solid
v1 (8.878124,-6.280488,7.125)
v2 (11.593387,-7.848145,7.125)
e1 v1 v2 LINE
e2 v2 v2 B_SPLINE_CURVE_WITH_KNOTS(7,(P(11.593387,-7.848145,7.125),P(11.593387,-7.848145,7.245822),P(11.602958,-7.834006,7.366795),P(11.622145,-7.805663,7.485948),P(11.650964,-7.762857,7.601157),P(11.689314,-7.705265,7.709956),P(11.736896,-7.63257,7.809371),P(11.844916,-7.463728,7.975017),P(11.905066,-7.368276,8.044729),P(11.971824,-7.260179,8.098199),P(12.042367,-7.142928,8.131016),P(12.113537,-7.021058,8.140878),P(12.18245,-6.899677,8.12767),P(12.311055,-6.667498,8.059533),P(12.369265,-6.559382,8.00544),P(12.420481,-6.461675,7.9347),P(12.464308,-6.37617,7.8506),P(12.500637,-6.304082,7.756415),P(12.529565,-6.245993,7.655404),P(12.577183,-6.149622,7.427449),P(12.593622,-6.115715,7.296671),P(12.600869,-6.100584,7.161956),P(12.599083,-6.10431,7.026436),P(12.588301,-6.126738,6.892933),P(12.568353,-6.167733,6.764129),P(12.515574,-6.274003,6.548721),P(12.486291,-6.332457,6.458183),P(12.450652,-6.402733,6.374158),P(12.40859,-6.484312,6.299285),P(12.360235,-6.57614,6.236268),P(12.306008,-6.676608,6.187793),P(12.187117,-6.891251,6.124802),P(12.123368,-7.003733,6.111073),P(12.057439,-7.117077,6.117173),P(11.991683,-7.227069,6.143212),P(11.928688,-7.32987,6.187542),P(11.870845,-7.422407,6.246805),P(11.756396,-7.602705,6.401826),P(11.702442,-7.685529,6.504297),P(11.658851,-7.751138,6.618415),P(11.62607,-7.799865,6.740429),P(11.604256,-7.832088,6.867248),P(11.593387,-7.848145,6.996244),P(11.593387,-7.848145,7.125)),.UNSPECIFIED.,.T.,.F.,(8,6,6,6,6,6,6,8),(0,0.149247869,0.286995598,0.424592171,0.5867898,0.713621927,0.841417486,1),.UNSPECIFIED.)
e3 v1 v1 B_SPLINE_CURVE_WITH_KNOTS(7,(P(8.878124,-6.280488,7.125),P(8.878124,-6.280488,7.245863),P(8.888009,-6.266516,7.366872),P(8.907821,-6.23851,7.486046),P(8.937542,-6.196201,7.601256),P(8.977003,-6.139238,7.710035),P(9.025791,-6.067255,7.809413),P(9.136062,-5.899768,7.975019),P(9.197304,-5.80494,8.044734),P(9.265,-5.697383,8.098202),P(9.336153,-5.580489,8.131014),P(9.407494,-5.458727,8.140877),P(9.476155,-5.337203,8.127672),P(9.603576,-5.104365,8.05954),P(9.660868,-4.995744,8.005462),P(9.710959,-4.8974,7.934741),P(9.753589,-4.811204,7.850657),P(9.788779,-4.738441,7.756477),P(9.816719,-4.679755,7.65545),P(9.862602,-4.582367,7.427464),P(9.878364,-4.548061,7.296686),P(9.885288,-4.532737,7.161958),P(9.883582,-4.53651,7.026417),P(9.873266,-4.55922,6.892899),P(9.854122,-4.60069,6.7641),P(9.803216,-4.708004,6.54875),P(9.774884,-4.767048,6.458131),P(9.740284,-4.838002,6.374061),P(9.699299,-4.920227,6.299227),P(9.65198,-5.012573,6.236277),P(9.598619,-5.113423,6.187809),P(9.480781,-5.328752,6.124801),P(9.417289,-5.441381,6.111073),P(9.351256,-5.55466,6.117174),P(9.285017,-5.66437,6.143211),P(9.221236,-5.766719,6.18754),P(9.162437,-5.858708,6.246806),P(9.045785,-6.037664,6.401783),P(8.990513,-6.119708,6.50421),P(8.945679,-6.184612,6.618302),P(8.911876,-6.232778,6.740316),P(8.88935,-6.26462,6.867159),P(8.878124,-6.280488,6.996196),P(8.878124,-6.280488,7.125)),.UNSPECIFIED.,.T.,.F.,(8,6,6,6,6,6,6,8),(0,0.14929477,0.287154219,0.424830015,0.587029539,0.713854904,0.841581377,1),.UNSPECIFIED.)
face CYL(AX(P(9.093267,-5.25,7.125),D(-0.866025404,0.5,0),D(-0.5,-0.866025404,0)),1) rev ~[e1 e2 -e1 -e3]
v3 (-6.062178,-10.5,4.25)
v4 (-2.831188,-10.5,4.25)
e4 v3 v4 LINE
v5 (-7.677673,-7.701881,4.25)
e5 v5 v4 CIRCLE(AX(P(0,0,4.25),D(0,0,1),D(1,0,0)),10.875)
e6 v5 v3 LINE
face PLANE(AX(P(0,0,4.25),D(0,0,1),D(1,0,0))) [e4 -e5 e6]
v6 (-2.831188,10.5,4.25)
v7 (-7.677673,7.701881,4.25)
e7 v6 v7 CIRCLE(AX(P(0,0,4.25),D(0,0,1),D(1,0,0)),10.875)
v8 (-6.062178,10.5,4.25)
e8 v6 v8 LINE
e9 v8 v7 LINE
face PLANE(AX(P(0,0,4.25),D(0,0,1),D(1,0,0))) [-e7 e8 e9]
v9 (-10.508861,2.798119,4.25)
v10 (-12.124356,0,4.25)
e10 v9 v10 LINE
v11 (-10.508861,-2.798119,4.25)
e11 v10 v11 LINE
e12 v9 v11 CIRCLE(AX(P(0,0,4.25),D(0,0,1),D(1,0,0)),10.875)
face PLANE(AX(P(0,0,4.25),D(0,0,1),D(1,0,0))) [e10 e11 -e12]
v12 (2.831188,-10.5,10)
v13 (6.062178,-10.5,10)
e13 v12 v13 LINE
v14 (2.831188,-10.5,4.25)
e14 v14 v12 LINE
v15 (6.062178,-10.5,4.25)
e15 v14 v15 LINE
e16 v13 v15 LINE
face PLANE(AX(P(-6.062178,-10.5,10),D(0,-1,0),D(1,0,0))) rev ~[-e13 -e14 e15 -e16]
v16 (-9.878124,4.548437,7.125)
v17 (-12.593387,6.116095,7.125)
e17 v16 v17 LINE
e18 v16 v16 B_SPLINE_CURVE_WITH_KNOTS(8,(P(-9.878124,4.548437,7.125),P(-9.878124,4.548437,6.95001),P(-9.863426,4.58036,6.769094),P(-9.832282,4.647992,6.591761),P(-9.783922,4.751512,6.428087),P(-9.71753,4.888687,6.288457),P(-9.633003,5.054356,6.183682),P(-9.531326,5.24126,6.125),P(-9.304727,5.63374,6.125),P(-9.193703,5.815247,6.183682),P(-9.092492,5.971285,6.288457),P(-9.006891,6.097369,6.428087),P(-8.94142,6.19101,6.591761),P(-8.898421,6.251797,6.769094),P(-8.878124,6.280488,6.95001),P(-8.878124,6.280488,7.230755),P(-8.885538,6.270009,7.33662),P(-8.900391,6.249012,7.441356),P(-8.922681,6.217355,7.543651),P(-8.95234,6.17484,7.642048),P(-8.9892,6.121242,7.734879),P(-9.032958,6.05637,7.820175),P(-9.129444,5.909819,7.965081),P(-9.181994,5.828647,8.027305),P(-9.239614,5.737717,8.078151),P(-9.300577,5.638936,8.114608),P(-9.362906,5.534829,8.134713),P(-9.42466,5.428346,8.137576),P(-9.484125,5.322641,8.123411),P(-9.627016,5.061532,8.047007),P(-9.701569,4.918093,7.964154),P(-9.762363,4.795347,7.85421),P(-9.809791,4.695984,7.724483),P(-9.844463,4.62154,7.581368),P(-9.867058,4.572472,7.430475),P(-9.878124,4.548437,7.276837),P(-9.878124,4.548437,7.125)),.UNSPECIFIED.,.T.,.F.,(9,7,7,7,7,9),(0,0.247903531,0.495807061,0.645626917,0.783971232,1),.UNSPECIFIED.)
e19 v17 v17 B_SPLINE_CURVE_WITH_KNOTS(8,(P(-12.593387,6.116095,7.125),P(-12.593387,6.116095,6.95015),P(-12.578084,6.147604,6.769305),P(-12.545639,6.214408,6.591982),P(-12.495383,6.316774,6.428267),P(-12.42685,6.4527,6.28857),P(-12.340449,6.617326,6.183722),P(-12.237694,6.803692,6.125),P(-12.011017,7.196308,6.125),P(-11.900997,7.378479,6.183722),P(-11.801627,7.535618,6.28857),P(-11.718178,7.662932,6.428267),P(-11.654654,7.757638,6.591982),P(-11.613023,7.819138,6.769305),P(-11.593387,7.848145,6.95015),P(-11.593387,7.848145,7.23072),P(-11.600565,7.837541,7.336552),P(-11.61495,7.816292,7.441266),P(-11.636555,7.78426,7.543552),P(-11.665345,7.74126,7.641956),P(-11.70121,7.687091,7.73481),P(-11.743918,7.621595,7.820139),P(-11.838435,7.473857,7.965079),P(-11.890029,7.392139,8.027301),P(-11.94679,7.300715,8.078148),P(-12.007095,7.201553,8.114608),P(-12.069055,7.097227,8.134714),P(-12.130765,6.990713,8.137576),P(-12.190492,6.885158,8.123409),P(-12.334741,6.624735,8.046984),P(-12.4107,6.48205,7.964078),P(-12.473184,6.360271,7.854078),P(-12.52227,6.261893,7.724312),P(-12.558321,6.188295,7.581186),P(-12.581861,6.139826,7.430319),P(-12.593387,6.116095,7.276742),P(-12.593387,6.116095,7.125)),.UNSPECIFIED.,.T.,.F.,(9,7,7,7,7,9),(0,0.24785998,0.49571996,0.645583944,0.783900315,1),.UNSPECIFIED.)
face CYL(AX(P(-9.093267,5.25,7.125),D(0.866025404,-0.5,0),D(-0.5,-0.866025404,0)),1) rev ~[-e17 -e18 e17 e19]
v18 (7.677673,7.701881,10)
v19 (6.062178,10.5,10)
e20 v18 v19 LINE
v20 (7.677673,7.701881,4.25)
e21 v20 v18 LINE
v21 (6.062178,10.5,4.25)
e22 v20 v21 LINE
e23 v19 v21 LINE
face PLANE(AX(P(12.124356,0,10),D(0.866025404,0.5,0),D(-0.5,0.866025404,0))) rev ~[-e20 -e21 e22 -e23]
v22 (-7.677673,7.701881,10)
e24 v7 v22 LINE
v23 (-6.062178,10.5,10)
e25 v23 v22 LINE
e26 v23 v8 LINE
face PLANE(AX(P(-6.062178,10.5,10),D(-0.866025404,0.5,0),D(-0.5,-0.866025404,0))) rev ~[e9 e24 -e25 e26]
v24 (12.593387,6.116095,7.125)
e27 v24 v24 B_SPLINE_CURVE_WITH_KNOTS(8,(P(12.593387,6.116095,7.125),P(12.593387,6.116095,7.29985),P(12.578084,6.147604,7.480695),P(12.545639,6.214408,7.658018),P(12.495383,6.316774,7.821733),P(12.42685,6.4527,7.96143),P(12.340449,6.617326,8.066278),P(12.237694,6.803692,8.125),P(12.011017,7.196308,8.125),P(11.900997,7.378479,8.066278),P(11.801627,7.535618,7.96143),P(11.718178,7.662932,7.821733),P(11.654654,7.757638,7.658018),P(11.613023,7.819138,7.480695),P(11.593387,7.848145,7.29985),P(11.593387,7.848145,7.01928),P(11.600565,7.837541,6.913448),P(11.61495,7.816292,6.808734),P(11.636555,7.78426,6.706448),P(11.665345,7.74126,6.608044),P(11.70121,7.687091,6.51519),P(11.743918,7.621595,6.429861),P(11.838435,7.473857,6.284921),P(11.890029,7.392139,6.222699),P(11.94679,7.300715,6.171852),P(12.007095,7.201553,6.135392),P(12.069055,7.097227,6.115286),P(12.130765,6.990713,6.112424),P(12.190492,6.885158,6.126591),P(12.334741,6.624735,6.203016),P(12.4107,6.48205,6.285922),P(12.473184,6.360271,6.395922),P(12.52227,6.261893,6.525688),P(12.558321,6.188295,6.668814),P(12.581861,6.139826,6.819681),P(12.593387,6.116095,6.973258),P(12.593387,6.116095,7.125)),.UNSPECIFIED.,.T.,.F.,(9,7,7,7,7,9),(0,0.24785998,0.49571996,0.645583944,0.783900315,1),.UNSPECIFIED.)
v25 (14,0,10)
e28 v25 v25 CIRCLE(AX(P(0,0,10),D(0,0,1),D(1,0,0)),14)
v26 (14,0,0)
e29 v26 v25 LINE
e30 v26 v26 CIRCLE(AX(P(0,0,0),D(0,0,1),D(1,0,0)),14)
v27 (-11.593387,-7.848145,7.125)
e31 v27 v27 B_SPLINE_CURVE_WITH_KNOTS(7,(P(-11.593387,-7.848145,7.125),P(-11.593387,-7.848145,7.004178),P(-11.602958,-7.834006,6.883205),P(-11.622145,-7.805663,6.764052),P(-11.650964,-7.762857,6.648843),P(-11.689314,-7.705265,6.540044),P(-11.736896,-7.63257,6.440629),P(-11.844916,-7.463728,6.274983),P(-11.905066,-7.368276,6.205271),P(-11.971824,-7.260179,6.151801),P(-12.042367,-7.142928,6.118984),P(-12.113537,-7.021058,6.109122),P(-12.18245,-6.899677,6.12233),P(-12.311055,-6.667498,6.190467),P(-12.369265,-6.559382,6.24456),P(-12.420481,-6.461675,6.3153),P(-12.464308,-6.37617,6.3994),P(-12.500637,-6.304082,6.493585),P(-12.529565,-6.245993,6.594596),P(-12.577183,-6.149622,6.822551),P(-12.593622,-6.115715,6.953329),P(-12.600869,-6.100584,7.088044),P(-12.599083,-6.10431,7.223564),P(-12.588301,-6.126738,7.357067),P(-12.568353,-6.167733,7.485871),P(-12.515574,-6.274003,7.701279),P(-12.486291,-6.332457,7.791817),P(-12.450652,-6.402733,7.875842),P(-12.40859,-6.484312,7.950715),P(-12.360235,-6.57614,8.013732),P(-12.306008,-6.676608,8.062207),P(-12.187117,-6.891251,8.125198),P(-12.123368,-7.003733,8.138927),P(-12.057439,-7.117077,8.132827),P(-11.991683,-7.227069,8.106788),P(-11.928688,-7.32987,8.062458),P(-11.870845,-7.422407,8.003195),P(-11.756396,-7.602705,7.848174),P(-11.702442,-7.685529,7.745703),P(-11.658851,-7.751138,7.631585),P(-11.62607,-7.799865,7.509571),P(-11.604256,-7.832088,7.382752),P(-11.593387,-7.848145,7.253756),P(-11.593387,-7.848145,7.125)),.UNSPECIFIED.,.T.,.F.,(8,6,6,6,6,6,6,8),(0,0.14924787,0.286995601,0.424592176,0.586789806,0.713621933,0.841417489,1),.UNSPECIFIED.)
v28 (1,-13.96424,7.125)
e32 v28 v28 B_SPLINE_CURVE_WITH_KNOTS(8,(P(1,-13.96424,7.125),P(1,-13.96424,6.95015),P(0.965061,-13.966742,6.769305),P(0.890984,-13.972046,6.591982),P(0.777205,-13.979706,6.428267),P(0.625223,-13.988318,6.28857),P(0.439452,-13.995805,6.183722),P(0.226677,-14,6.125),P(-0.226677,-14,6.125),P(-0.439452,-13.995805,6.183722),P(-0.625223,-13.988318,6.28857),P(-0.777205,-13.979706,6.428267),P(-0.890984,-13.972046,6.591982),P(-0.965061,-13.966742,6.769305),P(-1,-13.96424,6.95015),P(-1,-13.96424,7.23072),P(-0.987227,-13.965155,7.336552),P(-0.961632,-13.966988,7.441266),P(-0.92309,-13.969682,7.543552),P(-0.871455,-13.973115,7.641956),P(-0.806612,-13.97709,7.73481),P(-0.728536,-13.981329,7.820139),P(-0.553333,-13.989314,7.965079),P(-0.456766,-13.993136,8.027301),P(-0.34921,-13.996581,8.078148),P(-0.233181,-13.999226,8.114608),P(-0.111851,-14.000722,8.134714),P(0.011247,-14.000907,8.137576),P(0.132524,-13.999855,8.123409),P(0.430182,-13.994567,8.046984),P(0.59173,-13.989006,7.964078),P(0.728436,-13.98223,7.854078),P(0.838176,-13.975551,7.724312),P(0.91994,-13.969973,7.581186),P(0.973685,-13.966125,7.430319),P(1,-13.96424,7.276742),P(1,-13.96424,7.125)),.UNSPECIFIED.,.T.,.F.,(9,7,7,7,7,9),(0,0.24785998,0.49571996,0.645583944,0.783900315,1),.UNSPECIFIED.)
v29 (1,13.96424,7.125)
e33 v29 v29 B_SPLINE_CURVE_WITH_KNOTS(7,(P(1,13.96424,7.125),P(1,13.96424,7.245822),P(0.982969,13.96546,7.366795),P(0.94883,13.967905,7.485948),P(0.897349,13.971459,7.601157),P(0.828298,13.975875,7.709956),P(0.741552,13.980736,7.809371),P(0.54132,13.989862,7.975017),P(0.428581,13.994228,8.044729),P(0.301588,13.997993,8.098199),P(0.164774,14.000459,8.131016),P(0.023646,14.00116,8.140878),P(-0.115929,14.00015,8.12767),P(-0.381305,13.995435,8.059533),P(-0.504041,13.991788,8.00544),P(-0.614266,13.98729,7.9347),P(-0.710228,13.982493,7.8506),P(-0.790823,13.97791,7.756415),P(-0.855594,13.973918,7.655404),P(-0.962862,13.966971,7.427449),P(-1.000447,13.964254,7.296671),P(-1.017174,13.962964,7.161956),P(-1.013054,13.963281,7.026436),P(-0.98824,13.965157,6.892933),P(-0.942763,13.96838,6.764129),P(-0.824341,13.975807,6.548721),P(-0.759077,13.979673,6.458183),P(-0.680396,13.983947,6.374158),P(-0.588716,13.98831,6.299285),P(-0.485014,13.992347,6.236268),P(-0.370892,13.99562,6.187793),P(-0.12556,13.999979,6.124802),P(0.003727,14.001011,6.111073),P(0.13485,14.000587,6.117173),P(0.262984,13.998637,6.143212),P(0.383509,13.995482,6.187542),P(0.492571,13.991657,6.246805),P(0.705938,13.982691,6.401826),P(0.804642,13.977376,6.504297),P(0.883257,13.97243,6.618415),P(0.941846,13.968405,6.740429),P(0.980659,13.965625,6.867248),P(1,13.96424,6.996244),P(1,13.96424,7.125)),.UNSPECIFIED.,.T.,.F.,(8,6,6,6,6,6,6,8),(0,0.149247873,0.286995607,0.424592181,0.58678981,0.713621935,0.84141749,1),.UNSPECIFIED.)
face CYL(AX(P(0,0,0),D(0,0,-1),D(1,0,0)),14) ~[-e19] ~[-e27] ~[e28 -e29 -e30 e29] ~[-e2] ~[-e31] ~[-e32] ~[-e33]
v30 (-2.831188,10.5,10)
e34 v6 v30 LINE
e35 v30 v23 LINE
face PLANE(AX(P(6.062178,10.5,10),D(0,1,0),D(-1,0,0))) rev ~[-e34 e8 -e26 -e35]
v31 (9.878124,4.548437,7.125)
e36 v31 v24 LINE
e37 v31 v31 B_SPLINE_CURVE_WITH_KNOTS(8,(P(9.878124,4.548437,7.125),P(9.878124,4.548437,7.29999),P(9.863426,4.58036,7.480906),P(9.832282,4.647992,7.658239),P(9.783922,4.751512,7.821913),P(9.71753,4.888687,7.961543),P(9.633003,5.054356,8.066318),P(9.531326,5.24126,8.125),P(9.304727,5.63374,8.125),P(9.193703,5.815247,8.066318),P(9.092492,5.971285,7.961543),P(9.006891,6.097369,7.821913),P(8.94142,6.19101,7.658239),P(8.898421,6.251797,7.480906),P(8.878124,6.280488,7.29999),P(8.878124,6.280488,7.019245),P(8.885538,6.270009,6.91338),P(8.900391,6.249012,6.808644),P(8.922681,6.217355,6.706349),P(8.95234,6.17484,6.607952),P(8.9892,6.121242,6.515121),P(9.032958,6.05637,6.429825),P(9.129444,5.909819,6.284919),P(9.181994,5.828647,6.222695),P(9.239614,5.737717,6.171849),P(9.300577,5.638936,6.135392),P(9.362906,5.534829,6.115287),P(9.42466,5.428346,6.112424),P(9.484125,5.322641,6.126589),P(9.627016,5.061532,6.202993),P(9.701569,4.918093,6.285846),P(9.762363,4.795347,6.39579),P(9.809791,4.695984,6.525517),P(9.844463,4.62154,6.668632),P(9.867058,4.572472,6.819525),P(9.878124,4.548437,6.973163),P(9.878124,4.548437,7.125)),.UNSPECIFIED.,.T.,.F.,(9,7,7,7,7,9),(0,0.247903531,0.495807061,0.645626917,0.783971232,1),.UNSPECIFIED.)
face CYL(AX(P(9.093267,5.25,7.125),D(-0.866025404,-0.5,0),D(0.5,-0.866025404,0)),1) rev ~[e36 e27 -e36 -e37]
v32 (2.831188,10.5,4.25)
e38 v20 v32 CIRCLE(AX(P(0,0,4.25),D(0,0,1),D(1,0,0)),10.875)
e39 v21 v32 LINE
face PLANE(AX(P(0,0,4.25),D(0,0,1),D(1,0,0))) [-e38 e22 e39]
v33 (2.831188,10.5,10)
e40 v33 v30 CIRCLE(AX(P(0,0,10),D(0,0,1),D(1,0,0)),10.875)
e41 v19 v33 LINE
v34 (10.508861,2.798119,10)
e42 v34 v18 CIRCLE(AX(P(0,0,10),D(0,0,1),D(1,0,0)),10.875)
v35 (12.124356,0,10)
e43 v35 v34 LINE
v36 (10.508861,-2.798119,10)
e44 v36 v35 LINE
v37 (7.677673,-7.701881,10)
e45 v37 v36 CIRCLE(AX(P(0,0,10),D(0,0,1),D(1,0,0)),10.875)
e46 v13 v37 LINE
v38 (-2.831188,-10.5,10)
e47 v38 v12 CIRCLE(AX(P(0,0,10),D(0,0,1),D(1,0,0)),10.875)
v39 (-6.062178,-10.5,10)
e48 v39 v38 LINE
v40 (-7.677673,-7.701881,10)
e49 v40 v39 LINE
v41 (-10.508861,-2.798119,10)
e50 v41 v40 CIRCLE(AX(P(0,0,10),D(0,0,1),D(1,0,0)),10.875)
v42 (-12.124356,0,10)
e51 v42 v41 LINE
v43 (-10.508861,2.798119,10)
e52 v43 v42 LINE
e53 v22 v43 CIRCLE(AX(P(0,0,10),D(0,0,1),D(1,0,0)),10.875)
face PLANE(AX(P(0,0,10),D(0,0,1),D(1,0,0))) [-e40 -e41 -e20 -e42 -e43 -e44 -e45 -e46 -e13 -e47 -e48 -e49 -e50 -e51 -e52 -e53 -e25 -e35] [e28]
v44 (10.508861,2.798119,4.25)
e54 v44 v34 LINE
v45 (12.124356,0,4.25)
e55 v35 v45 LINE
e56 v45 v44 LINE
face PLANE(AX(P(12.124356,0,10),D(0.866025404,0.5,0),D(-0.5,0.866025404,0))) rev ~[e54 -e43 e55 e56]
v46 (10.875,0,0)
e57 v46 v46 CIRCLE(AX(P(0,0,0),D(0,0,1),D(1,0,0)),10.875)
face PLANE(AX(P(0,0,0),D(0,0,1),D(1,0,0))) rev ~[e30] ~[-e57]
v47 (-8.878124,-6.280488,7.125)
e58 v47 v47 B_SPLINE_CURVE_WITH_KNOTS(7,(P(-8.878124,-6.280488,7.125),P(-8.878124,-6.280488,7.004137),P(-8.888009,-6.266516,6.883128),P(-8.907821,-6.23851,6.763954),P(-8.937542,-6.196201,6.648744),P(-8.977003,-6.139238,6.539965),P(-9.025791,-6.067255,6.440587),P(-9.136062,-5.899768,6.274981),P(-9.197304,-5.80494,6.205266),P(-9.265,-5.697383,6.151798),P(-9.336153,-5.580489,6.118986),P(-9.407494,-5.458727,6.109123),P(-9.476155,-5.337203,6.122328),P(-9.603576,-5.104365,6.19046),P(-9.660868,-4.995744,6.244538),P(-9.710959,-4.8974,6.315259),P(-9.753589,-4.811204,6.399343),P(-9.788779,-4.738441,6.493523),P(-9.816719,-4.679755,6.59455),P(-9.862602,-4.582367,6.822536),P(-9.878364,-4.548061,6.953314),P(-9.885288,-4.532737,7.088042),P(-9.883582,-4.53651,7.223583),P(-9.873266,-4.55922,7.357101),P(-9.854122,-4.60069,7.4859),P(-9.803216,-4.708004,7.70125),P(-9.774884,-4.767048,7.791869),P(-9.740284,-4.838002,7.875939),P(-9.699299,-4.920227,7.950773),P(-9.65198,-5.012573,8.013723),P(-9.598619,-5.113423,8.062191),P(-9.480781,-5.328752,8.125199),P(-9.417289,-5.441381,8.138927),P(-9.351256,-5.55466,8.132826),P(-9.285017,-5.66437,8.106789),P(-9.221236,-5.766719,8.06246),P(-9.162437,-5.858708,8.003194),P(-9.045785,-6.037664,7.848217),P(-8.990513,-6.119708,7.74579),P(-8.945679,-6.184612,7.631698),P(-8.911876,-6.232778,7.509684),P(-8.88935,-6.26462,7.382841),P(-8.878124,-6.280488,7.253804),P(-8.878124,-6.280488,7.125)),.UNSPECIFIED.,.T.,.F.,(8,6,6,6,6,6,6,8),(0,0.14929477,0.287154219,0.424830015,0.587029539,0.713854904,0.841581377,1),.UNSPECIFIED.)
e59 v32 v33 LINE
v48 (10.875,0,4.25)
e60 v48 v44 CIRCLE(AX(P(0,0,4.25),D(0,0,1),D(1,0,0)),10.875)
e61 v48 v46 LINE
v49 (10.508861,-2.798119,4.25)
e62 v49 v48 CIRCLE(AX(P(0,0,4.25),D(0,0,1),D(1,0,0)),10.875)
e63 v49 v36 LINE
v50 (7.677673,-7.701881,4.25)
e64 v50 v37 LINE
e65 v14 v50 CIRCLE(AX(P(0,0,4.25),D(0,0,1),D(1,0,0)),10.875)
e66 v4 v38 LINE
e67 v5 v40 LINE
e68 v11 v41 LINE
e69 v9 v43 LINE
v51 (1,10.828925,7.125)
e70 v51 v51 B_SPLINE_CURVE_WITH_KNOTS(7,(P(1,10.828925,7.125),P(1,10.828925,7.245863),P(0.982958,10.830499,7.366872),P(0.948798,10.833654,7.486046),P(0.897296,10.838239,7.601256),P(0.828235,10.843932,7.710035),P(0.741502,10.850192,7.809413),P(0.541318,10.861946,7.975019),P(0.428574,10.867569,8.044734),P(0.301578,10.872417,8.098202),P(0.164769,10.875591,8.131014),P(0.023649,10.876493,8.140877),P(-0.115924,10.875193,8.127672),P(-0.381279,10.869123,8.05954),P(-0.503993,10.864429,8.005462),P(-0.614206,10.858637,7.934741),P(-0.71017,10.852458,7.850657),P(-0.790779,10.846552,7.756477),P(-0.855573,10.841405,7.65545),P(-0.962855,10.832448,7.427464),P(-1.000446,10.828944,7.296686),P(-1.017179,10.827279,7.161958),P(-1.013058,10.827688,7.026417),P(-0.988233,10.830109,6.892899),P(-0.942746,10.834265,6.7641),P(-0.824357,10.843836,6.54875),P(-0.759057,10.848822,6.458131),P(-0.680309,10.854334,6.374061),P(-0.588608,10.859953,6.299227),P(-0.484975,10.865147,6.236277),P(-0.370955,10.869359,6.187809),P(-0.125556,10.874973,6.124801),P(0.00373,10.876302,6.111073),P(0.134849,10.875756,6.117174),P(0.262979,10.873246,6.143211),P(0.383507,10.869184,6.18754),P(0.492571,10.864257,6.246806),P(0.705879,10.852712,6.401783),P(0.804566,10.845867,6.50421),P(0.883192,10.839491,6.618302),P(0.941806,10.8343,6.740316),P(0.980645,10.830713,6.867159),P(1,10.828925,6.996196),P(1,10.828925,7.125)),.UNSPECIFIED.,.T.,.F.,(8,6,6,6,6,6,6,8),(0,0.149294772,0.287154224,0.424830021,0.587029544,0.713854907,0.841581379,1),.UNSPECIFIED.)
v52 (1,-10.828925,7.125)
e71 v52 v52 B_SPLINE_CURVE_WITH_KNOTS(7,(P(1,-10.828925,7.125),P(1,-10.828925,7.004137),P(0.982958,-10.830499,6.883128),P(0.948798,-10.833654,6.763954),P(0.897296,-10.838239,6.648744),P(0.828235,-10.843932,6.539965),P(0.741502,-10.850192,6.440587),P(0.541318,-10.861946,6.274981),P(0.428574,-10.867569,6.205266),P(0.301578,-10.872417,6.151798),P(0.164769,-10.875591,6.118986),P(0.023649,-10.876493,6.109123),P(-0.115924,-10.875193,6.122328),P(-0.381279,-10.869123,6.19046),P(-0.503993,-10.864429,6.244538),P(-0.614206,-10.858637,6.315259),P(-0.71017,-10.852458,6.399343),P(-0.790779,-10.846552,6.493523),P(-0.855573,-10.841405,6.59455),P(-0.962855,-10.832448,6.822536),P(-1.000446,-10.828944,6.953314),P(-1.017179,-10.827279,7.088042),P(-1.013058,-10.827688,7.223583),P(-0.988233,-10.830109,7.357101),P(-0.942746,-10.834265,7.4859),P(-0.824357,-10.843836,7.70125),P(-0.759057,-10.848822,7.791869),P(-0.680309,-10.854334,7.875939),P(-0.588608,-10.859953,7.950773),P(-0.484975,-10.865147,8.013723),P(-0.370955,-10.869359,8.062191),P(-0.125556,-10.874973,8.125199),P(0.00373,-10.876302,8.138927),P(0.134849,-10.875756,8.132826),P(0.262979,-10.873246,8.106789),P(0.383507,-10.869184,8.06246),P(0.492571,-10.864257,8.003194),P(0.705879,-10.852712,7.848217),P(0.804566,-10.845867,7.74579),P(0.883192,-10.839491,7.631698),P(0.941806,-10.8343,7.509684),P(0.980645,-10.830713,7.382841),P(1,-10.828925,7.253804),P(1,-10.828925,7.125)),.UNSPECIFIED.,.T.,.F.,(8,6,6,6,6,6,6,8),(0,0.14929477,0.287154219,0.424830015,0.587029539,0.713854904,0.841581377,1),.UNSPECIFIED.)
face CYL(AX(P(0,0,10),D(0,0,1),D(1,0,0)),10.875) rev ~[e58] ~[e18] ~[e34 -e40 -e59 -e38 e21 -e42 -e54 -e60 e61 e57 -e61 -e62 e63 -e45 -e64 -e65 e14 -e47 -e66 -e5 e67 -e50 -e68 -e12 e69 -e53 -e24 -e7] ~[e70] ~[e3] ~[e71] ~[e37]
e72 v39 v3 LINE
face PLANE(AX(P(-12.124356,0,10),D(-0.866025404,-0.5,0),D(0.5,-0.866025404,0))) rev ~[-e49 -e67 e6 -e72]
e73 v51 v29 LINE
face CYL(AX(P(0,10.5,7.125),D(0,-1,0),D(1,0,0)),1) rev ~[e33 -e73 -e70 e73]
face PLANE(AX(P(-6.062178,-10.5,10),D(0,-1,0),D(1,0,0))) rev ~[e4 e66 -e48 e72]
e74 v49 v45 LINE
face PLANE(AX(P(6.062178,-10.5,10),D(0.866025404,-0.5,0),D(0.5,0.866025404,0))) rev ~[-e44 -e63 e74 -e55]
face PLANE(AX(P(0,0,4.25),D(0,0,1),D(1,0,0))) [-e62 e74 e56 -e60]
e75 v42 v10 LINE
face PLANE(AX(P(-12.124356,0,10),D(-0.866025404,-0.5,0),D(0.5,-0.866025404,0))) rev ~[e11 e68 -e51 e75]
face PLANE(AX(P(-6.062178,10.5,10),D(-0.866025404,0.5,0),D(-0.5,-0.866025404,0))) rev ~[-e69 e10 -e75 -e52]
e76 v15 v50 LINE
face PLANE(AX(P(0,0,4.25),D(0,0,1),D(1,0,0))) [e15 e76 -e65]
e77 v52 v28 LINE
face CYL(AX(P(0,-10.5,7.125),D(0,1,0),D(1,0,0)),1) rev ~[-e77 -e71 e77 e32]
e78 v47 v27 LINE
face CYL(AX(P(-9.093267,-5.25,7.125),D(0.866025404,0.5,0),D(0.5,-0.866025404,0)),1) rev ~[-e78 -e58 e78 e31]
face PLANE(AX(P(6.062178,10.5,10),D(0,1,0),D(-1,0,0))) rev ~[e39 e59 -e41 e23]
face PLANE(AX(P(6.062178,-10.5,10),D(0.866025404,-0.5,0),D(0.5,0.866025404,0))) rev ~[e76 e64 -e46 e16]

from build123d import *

# Parameters (mm, degrees)
SKETCH1_R               = 14
BOSS_EXTRUDE1_DEPTH     = 10
CUT_EXTRUDE1_REACH      = 24.181
SKETCH2_R               = 10.875
CUT_EXTRUDE2_DEPTH      = 5.75
CUT_EXTRUDE3_REACH      = 31.937
CUT_EXTRUDE3_END_RADIUS = 14
SKETCH4_R               = 1
CUT_EXTRUDE4_REACH      = 33.684
CUT_EXTRUDE4_END_RADIUS = 14
SKETCH5_R               = 1
CUT_EXTRUDE5_REACH      = 33.684
CUT_EXTRUDE5_END_RADIUS = 14
SKETCH6_R               = 1
CUT_EXTRUDE6_REACH      = 31.937
CUT_EXTRUDE6_END_RADIUS = 14
SKETCH7_R               = 1
CUT_EXTRUDE7_REACH      = 33.684
CUT_EXTRUDE7_END_RADIUS = 14
SKETCH8_R               = 1
CUT_EXTRUDE8_REACH      = 33.684
CUT_EXTRUDE8_END_RADIUS = 14
SKETCH9_R               = 1


with BuildPart() as part:
    # Sketch1 → Boss-Extrude1 (new body)
    with BuildSketch(Plane.XY):
        Circle(SKETCH1_R)
    extrude(amount=BOSS_EXTRUDE1_DEPTH)

    # Sketch2 → Cut-Extrude1 (cut, up to next)
    with BuildSketch(Plane.XY.offset(10), mode=Mode.PRIVATE) as cut_extrude1_sk1:
        Circle(SKETCH2_R)
    cut_extrude1_tool1 = extrude(cut_extrude1_sk1.sketch, amount=-CUT_EXTRUDE1_REACH, mode=Mode.PRIVATE) & part.part
    add(cut_extrude1_tool1.solids().sort_by_distance((0, 0, 10))[0], mode=Mode.SUBTRACT)

    # Sketch3 → Cut-Extrude2 (cut)
    with BuildSketch(Plane.XY.offset(10)):
        Polygon((12.124355653, 0), (6.062177826, 10.5), (-6.062177826, 10.5), (-12.124355653, 0), (-6.062177826, -10.5), (6.062177826, -10.5), align=None)
    extrude(amount=-CUT_EXTRUDE2_DEPTH, mode=Mode.SUBTRACT)

    # Cut-Extrude3: up to this cylinder (the profile starts inside it)
    cut_extrude3_end = Plane(origin=(0, 0, 7.125), z_dir=(0, 0, -1)) * Cylinder(CUT_EXTRUDE3_END_RADIUS, 92.874, mode=Mode.PRIVATE)
    # Sketch4 → Cut-Extrude3 (cut, up to the surface)
    with BuildSketch(Plane(origin=(0, 10.5, 0), x_dir=(-1, 0, 0), z_dir=(0, -1, 0)), mode=Mode.PRIVATE) as cut_extrude3_sk1:
        with Locations(Location((0, -7.125, 0), (0, 0, 180))):
            Circle(SKETCH4_R)
    cut_extrude3_tool1 = extrude(cut_extrude3_sk1.sketch, amount=-CUT_EXTRUDE3_REACH, mode=Mode.PRIVATE) & cut_extrude3_end
    add(cut_extrude3_tool1.solids().sort_by_distance((0, 10.5, 7.125))[0], mode=Mode.SUBTRACT)

    # Cut-Extrude4: up to this cylinder (the profile starts inside it)
    cut_extrude4_end = Plane(origin=(0, 0, 7.125), z_dir=(0, 0, -1)) * Cylinder(CUT_EXTRUDE4_END_RADIUS, 96.368, mode=Mode.PRIVATE)
    # Sketch5 → Cut-Extrude4 (cut, up to the surface)
    with BuildSketch(Plane(origin=(9.09326674, 5.25, 0), x_dir=(0, 0, 1), z_dir=(-0.8660254037844386, -0.4999999999999999, 0)), mode=Mode.PRIVATE) as cut_extrude4_sk1:
        with Locations(Location((7.125, 0, 0), (0, 0, 270))):
            Circle(SKETCH5_R)
    cut_extrude4_tool1 = extrude(cut_extrude4_sk1.sketch, amount=-CUT_EXTRUDE4_REACH, mode=Mode.PRIVATE) & cut_extrude4_end
    add(cut_extrude4_tool1.solids().sort_by_distance((9.093267, 5.25, 7.125))[0], mode=Mode.SUBTRACT)

    # Cut-Extrude5: up to this cylinder (the profile starts inside it)
    cut_extrude5_end = Plane(origin=(0, 0, 7.125), z_dir=(0, 0, -1)) * Cylinder(CUT_EXTRUDE5_END_RADIUS, 96.368, mode=Mode.PRIVATE)
    # Sketch6 → Cut-Extrude5 (cut, up to the surface)
    with BuildSketch(Plane(origin=(9.09326674, -5.25, 0), x_dir=(0, 0, 1), z_dir=(-0.8660254037844386, 0.5, 0)), mode=Mode.PRIVATE) as cut_extrude5_sk1:
        with Locations(Location((7.125, 0, 0), (0, 0, 270))):
            Circle(SKETCH6_R)
    cut_extrude5_tool1 = extrude(cut_extrude5_sk1.sketch, amount=-CUT_EXTRUDE5_REACH, mode=Mode.PRIVATE) & cut_extrude5_end
    add(cut_extrude5_tool1.solids().sort_by_distance((9.093267, -5.25, 7.125))[0], mode=Mode.SUBTRACT)

    # Cut-Extrude6: up to this cylinder (the profile starts inside it)
    cut_extrude6_end = Plane(origin=(0, 0, 7.125), z_dir=(0, 0, -1)) * Cylinder(CUT_EXTRUDE6_END_RADIUS, 92.874, mode=Mode.PRIVATE)
    # Sketch7 → Cut-Extrude6 (cut, up to the surface)
    with BuildSketch(Plane(origin=(0, -10.5, 0), x_dir=(1, 0, 0), z_dir=(0, 1, 0)), mode=Mode.PRIVATE) as cut_extrude6_sk1:
        with Locations((0, -7.125)):
            Circle(SKETCH7_R)
    cut_extrude6_tool1 = extrude(cut_extrude6_sk1.sketch, amount=-CUT_EXTRUDE6_REACH, mode=Mode.PRIVATE) & cut_extrude6_end
    add(cut_extrude6_tool1.solids().sort_by_distance((0, -10.5, 7.125))[0], mode=Mode.SUBTRACT)

    # Cut-Extrude7: up to this cylinder (the profile starts inside it)
    cut_extrude7_end = Plane(origin=(0, 0, 7.125), z_dir=(0, 0, -1)) * Cylinder(CUT_EXTRUDE7_END_RADIUS, 96.368, mode=Mode.PRIVATE)
    # Sketch8 → Cut-Extrude7 (cut, up to the surface)
    with BuildSketch(Plane(origin=(-9.09326674, -5.25, 0), x_dir=(0, 0, -1), z_dir=(0.8660254037844385, 0.5000000000000003, 0)), mode=Mode.PRIVATE) as cut_extrude7_sk1:
        with Locations(Location((-7.125, 0, 0), (0, 0, 270))):
            Circle(SKETCH8_R)
    cut_extrude7_tool1 = extrude(cut_extrude7_sk1.sketch, amount=-CUT_EXTRUDE7_REACH, mode=Mode.PRIVATE) & cut_extrude7_end
    add(cut_extrude7_tool1.solids().sort_by_distance((-9.093267, -5.25, 7.125))[0], mode=Mode.SUBTRACT)

    # Cut-Extrude8: up to this cylinder (the profile starts inside it)
    cut_extrude8_end = Plane(origin=(0, 0, 7.125), z_dir=(0, 0, -1)) * Cylinder(CUT_EXTRUDE8_END_RADIUS, 96.368, mode=Mode.PRIVATE)
    # Sketch9 → Cut-Extrude8 (cut, up to the surface)
    with BuildSketch(Plane(origin=(-9.09326674, 5.25, 0), x_dir=(0, 0, -1), z_dir=(0.8660254037844388, -0.49999999999999983, 0)), mode=Mode.PRIVATE) as cut_extrude8_sk1:
        with Locations(Location((-7.125, 0, 0), (0, 0, 270))):
            Circle(SKETCH9_R)
    cut_extrude8_tool1 = extrude(cut_extrude8_sk1.sketch, amount=-CUT_EXTRUDE8_REACH, mode=Mode.PRIVATE) & cut_extrude8_end
    add(cut_extrude8_tool1.solids().sort_by_distance((-9.093267, 5.25, 7.125))[0], mode=Mode.SUBTRACT)


solid = part.part
